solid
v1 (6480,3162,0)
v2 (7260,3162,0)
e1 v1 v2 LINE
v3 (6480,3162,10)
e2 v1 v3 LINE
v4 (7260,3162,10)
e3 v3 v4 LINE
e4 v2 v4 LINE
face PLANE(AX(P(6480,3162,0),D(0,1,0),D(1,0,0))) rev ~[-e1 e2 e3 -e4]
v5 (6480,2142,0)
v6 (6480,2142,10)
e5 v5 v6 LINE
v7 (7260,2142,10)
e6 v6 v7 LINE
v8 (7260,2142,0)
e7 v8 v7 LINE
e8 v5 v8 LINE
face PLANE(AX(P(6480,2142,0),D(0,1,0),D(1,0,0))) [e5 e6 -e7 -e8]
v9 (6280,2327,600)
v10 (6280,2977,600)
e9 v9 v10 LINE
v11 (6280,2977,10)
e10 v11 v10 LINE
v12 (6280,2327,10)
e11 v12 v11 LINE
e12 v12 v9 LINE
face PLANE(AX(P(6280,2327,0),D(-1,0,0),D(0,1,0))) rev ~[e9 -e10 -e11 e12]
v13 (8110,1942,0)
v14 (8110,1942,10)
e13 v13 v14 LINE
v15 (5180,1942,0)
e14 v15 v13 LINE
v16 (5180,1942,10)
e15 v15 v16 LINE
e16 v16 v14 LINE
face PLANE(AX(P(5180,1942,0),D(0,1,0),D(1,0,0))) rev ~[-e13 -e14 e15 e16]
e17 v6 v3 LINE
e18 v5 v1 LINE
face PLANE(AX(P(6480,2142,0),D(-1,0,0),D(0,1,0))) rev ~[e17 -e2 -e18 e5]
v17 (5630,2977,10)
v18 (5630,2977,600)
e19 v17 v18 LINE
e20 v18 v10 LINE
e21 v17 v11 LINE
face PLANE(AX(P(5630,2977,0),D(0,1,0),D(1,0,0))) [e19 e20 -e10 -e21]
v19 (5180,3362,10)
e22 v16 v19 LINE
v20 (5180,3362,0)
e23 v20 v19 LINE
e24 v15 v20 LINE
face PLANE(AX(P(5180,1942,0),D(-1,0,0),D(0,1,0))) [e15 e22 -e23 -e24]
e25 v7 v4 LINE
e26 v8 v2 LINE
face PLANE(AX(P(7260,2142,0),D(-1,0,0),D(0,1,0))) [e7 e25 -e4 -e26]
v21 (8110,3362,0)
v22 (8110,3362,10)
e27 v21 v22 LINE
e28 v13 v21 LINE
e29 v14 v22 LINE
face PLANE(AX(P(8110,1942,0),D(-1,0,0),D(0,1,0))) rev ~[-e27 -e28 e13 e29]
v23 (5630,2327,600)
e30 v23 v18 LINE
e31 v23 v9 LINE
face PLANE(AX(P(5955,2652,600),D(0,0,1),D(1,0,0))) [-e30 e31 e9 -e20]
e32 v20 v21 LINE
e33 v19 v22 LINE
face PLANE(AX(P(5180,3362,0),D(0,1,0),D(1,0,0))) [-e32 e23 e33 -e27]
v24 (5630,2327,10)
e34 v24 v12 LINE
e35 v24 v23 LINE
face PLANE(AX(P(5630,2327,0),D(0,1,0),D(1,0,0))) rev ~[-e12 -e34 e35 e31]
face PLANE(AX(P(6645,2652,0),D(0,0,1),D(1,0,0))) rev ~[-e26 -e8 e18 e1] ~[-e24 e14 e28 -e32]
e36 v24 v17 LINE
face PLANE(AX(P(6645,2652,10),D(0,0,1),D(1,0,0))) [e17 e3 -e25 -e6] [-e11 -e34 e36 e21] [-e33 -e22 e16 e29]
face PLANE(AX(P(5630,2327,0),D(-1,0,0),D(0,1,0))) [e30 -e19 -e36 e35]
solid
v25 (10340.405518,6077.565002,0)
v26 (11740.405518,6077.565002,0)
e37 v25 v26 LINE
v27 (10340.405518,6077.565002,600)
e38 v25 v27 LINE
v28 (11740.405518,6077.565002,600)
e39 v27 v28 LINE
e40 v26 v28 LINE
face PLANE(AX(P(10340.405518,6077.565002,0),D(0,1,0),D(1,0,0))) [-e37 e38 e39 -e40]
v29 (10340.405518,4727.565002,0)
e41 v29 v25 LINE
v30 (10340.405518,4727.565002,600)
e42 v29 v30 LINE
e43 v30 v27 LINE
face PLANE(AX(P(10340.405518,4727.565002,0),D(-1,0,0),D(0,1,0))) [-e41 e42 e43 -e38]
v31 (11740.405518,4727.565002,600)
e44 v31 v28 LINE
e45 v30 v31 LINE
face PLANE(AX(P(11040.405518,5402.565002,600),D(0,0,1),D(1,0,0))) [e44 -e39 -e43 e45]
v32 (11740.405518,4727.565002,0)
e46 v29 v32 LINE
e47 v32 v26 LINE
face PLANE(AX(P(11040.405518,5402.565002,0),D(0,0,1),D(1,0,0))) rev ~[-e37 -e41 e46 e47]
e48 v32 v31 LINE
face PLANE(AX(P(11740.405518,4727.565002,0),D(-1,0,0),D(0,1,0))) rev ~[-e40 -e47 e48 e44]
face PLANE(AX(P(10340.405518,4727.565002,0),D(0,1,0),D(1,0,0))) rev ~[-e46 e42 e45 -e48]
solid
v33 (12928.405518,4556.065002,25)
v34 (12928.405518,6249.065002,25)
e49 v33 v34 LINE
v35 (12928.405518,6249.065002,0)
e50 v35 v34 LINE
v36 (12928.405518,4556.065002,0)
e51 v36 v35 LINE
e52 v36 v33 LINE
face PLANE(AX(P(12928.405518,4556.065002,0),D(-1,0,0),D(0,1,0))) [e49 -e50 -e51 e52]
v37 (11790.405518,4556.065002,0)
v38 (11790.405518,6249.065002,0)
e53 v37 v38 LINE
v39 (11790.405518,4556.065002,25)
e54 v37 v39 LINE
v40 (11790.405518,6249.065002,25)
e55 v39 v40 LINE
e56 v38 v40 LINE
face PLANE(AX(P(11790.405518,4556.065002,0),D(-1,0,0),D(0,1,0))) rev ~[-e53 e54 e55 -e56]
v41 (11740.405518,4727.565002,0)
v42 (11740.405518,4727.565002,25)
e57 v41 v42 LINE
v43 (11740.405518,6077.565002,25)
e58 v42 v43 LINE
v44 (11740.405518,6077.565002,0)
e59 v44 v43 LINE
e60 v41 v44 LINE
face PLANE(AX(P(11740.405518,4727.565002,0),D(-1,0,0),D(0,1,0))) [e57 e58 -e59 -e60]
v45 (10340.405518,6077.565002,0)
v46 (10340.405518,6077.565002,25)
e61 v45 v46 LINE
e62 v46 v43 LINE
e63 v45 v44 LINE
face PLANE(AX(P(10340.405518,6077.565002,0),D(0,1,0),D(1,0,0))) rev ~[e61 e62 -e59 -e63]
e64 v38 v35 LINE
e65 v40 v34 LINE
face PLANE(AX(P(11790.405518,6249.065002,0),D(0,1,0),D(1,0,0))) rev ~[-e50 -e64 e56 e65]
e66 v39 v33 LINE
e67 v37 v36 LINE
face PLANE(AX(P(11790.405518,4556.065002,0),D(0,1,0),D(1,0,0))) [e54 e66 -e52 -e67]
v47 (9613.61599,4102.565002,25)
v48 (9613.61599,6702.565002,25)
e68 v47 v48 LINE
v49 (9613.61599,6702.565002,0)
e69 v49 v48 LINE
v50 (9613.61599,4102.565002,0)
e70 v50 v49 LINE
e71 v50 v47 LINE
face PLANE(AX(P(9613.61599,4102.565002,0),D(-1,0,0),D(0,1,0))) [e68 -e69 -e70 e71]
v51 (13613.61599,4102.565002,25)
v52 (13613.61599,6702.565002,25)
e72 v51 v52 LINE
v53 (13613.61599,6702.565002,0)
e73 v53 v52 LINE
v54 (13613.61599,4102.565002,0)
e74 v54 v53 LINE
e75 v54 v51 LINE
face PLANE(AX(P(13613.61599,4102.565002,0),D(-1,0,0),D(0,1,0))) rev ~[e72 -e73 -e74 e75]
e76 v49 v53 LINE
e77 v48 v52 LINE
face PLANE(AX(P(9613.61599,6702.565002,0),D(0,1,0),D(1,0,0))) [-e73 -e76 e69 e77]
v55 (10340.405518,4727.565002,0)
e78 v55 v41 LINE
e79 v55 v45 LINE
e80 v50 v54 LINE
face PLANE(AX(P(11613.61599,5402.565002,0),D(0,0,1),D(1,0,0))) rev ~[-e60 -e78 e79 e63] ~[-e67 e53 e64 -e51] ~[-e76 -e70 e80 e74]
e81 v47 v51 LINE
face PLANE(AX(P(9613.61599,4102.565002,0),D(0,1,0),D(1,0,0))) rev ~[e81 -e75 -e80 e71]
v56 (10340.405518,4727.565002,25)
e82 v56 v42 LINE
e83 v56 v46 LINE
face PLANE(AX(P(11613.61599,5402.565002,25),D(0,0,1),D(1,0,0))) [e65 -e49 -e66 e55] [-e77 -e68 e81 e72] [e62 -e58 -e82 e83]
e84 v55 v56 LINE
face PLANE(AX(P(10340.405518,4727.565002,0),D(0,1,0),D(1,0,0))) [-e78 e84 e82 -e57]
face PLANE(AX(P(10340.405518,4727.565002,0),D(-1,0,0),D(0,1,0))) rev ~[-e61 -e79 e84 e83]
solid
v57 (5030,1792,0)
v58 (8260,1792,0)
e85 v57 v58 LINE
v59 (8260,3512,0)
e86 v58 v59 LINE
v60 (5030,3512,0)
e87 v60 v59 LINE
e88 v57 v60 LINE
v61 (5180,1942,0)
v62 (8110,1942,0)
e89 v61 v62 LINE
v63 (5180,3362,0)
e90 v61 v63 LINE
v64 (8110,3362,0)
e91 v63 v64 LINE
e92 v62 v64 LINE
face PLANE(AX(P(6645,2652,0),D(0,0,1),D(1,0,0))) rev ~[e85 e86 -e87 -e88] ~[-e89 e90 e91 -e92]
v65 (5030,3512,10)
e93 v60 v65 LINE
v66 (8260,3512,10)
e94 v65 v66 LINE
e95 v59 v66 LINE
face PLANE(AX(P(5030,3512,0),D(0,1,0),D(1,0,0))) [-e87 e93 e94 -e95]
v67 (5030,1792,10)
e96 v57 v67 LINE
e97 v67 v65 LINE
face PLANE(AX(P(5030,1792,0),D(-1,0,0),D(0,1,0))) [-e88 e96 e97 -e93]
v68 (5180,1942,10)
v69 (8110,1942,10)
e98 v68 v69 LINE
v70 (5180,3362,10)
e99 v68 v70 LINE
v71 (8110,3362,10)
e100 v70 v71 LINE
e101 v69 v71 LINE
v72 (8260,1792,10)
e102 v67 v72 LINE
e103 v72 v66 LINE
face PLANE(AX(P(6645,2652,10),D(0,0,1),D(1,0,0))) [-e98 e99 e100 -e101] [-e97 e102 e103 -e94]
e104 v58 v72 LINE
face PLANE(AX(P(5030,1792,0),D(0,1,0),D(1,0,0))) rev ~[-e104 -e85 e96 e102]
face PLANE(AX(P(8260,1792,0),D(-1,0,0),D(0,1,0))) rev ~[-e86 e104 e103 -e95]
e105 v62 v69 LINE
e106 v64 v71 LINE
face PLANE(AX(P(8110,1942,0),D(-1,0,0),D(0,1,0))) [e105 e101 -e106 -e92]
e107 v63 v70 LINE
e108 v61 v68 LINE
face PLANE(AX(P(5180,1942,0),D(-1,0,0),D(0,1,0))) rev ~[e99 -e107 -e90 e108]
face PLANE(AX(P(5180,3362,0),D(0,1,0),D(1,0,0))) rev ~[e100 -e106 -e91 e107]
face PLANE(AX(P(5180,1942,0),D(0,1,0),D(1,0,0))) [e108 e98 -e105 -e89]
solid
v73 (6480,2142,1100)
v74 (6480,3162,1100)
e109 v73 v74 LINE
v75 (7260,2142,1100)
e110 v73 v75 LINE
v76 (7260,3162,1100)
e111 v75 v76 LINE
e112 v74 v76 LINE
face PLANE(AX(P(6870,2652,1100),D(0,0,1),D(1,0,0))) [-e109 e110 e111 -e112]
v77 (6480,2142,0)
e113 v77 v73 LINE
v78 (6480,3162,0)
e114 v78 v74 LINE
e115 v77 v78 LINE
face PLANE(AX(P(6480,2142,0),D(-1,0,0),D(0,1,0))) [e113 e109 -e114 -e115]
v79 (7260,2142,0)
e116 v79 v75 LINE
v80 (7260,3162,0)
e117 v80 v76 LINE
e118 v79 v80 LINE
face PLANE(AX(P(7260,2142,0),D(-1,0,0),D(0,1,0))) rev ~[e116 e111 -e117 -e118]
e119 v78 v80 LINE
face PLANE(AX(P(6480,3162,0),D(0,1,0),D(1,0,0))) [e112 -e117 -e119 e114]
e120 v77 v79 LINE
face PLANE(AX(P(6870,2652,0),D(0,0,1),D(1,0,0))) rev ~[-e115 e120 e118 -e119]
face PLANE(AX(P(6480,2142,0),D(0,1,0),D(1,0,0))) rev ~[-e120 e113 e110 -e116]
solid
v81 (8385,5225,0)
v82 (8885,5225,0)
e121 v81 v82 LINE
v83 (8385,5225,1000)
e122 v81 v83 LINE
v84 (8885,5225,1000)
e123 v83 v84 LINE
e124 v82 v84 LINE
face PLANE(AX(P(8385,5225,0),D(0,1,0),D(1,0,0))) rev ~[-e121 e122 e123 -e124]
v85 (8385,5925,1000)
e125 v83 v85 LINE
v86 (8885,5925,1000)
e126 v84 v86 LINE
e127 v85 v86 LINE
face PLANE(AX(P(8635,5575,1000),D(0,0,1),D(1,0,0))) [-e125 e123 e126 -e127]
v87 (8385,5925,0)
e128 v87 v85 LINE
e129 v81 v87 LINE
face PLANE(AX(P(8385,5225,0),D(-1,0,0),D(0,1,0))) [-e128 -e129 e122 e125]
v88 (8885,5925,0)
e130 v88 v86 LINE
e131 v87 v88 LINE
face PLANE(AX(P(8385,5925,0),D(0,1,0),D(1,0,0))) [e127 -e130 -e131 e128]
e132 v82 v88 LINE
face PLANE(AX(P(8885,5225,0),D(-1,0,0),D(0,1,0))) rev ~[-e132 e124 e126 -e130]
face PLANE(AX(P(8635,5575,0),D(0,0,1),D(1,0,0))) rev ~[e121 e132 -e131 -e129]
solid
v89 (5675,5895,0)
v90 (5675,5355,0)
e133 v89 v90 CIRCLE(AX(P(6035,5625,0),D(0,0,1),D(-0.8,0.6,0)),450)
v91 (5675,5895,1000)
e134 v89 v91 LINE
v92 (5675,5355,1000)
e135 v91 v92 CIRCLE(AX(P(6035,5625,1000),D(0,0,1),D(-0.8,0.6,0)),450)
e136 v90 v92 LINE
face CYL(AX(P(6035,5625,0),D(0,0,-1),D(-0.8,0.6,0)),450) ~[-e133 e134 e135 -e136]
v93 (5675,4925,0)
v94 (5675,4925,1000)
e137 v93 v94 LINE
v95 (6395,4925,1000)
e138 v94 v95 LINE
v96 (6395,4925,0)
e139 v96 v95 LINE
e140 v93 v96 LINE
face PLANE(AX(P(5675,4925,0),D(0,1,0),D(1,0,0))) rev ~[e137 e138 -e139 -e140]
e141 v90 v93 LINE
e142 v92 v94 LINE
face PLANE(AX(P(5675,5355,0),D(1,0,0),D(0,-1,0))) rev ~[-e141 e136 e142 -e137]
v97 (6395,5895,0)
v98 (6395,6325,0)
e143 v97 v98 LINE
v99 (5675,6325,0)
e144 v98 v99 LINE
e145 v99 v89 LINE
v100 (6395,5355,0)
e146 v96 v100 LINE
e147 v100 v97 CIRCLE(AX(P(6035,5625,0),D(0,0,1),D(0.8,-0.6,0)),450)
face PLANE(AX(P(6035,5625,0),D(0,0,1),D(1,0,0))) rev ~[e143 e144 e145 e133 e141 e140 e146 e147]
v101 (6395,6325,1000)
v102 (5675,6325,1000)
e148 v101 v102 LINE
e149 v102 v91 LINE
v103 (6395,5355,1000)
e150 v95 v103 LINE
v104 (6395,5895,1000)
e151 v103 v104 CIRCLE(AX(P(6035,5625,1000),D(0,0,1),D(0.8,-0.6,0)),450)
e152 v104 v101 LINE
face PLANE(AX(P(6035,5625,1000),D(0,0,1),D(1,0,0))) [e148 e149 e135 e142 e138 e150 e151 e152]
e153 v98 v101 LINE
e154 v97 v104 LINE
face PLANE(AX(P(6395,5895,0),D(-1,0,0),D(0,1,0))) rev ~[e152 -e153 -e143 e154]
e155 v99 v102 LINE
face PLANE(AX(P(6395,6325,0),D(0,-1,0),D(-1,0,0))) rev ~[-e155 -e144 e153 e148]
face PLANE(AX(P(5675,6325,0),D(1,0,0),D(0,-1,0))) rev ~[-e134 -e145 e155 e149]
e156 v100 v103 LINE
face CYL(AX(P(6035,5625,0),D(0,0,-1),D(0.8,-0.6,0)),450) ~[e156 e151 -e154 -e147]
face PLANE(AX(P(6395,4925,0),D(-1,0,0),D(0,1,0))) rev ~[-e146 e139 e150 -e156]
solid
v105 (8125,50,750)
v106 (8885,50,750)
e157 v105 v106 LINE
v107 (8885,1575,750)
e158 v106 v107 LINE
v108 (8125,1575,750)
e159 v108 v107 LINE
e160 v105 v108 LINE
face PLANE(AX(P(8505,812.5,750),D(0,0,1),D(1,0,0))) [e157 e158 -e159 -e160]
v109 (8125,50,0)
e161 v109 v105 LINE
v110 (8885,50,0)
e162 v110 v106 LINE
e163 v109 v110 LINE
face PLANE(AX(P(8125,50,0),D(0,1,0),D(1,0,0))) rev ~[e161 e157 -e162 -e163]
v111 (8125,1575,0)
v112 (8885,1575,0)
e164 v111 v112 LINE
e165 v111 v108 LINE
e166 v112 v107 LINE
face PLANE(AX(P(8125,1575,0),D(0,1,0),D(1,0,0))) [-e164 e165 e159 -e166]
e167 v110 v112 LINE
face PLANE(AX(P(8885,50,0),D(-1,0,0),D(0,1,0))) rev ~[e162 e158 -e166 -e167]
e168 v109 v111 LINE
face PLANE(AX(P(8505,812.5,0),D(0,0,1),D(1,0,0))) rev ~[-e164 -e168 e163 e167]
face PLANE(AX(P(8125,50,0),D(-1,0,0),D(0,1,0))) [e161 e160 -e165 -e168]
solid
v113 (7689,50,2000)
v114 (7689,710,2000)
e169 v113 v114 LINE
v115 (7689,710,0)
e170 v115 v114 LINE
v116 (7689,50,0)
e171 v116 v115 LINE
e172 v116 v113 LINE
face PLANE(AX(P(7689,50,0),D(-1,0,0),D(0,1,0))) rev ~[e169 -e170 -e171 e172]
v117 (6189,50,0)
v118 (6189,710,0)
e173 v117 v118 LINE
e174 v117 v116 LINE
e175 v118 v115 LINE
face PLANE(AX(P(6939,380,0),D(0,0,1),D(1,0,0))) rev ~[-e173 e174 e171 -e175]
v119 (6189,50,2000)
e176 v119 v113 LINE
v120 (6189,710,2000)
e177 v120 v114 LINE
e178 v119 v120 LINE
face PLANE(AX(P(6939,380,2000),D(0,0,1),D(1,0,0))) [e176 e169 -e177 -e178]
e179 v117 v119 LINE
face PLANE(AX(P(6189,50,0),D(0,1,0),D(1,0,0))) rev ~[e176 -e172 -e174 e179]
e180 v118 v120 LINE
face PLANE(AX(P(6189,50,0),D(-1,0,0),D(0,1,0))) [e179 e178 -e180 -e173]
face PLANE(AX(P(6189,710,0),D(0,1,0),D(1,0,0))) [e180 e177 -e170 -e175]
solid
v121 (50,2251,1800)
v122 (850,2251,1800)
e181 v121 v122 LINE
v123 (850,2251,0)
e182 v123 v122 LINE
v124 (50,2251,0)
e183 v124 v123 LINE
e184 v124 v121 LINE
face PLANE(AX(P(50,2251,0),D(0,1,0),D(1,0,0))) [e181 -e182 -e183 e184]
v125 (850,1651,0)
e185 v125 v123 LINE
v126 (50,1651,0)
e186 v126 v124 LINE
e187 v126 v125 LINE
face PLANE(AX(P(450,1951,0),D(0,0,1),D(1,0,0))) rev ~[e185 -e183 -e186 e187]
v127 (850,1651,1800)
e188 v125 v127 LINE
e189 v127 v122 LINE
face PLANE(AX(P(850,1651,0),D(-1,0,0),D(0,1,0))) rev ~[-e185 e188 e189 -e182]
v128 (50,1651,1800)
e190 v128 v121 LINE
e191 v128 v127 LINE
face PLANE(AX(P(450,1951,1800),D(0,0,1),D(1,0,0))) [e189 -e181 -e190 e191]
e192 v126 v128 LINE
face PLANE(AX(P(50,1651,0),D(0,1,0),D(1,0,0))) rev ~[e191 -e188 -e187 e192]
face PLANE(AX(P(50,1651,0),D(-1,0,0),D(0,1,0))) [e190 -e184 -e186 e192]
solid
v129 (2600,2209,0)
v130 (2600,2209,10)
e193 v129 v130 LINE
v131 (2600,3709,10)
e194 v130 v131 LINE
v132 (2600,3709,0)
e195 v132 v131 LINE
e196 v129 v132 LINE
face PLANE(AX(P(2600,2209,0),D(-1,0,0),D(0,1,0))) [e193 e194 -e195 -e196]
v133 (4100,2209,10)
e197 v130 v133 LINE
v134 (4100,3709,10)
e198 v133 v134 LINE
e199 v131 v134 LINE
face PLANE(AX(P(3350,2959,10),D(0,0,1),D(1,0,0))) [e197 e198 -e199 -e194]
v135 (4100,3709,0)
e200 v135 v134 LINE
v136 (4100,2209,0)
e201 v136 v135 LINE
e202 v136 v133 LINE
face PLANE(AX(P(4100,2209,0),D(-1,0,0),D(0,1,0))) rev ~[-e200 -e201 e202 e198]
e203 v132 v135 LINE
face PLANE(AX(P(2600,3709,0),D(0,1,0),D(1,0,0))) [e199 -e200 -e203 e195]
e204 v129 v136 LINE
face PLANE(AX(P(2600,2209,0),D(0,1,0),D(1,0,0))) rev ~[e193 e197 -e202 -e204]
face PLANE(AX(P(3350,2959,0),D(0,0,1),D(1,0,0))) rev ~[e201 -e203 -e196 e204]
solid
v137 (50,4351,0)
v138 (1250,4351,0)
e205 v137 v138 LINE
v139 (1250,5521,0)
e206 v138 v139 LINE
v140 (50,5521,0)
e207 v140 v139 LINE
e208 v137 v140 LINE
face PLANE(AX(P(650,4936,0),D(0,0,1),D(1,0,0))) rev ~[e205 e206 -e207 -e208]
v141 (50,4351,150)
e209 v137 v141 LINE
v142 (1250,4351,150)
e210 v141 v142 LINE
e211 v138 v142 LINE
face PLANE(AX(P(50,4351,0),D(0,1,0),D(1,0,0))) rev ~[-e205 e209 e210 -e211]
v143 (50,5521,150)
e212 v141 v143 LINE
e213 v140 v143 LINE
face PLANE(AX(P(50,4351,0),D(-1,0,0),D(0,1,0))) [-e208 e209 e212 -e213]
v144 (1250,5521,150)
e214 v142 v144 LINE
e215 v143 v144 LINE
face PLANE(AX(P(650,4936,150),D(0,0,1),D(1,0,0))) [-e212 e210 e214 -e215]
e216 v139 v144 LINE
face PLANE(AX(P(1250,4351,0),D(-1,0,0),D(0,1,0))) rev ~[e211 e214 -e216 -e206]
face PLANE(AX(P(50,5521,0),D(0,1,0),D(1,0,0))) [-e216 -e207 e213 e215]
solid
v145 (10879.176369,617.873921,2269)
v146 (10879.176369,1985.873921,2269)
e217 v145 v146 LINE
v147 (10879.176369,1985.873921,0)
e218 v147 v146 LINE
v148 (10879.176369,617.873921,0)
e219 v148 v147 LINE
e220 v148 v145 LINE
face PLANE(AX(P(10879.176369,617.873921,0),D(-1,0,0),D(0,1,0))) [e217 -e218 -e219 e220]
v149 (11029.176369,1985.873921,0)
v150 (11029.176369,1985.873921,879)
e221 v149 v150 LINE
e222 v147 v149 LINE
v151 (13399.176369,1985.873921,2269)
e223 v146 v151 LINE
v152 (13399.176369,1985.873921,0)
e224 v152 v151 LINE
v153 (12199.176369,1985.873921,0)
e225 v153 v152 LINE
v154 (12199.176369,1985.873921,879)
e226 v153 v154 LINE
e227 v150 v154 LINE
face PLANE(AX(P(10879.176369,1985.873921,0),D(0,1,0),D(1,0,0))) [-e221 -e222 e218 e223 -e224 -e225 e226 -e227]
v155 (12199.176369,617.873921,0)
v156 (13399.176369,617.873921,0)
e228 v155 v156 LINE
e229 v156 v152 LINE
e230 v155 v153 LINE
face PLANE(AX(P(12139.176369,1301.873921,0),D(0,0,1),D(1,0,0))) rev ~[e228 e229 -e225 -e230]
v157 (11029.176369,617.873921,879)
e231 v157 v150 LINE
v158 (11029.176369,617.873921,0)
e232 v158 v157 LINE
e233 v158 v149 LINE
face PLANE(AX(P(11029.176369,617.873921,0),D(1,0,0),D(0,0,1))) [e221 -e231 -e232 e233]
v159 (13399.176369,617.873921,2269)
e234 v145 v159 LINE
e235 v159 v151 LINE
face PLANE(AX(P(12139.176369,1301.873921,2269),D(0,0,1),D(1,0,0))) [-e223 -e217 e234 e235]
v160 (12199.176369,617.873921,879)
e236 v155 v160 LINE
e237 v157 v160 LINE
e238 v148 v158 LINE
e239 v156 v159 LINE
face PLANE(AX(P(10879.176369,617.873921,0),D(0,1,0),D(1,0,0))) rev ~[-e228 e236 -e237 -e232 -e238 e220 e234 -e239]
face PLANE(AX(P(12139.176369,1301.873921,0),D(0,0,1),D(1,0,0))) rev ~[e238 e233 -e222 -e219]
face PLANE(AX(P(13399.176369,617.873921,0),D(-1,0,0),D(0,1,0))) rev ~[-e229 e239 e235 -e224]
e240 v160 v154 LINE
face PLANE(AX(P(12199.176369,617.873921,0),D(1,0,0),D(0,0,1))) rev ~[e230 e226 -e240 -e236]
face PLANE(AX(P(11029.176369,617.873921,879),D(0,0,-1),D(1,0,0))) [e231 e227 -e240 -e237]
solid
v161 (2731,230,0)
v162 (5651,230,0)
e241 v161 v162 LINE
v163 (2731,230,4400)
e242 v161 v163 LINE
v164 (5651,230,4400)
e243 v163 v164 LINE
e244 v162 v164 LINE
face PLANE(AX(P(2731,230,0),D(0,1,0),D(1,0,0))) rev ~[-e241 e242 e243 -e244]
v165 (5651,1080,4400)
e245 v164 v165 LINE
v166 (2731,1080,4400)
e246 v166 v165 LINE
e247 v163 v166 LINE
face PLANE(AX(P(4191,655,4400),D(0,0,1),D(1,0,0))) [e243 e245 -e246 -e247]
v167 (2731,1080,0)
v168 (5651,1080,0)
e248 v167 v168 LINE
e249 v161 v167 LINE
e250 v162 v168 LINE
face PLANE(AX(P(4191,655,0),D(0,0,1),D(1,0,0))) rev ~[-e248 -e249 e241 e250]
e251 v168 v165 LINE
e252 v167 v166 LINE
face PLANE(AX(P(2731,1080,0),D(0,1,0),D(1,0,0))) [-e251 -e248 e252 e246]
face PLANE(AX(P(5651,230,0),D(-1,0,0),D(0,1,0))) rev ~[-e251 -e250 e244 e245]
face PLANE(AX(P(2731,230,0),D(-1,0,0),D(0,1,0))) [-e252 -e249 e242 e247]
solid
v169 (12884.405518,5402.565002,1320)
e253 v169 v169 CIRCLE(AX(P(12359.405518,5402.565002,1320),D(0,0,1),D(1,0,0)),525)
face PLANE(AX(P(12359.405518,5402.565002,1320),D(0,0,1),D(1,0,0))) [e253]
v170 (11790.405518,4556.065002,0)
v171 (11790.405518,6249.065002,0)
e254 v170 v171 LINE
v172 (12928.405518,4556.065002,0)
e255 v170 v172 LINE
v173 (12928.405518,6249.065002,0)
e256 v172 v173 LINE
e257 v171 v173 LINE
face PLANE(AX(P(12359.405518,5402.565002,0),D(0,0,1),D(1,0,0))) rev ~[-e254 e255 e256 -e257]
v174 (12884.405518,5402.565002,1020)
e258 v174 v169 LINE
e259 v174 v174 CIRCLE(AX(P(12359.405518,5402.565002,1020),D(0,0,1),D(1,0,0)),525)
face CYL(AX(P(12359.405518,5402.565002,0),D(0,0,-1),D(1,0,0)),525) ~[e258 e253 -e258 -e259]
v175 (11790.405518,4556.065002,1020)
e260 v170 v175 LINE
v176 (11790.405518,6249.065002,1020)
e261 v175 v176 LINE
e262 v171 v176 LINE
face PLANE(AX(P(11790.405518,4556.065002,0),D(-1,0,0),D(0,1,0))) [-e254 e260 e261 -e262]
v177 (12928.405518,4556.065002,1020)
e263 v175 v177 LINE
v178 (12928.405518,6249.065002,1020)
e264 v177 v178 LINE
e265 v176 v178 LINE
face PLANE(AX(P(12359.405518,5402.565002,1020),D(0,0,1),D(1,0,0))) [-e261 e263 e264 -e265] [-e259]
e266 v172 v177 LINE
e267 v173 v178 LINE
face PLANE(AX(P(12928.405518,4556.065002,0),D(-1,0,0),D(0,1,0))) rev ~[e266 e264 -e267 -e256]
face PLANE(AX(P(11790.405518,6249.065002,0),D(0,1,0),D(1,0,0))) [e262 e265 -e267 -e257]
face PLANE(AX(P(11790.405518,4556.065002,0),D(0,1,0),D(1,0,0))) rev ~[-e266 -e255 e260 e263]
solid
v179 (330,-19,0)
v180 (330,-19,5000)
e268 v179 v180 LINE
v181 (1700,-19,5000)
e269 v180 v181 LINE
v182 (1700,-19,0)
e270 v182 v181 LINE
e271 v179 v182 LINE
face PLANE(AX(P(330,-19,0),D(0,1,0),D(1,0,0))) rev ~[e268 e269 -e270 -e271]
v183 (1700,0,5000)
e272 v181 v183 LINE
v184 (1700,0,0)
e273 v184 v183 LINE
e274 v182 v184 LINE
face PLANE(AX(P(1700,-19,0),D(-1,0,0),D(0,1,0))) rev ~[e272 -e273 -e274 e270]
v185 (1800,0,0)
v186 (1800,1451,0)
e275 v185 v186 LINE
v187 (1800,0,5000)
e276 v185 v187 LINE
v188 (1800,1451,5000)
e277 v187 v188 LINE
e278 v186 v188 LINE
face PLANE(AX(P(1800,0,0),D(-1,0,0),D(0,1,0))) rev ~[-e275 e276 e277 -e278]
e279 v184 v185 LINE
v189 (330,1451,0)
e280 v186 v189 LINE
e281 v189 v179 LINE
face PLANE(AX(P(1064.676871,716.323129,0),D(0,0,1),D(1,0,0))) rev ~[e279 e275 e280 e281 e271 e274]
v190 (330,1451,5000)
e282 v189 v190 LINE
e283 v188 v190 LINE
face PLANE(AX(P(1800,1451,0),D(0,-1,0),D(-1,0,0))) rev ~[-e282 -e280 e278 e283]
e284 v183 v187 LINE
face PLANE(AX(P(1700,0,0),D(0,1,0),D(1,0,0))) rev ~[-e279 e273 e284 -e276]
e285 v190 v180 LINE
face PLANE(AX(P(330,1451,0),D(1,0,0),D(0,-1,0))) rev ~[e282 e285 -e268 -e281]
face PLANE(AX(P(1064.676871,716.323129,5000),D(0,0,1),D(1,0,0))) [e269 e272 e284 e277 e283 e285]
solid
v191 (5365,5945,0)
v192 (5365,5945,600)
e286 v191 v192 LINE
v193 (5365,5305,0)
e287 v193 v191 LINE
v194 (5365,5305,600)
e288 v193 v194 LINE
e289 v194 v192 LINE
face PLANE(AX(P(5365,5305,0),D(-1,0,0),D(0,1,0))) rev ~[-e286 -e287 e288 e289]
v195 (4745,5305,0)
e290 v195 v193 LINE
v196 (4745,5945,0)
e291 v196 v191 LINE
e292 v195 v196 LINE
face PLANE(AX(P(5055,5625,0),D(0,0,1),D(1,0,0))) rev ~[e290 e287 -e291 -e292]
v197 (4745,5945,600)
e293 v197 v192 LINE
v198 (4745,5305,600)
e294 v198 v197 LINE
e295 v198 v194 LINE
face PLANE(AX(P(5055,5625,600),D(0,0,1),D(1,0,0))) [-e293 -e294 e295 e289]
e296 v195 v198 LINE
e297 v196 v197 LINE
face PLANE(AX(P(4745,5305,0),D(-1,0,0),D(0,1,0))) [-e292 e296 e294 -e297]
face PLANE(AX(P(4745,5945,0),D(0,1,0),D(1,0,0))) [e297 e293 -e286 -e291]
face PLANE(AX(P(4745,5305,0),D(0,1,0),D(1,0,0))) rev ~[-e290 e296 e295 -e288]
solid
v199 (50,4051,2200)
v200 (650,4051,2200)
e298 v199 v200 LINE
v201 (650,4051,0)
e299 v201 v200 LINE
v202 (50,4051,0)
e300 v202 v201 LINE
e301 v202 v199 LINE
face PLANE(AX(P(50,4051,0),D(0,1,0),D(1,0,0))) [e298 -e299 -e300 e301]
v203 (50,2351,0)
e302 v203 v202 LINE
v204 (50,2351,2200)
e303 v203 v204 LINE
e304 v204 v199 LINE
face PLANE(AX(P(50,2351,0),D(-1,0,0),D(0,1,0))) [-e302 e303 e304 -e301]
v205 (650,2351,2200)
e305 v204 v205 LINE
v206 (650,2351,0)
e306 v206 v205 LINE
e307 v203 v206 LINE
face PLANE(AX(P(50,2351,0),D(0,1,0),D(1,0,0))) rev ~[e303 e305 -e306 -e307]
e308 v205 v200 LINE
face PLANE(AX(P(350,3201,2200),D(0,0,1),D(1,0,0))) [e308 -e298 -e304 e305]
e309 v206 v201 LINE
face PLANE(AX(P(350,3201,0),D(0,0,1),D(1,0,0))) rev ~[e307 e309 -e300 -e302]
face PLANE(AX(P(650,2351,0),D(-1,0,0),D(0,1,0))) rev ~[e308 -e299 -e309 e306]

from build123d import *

# Parameters (mm, degrees)
F2_DEPTH  = 5000
F1_W      = 2920
F1_H      = 850
F3_DEPTH  = 4400
F1_W_2    = 1500
F1_H_2    = 660
F4_DEPTH  = 2000
F1_W_3    = 780
F1_H_3    = 1020
F5_DEPTH  = 1100
F1_W_4    = 760
F1_H_4    = 1525
F6_DEPTH  = 750
F7_DEPTH  = 1000
F1_W_5    = 500
F1_H_5    = 700
F8_DEPTH  = 1000
F1_W_6    = 620
F1_H_6    = 640
F9_DEPTH  = 600
F1_W_7    = 600
F1_H_7    = 1700
F10_DEPTH = 2200
F1_W_8    = 800
F1_H_8    = 600
F11_DEPTH = 1800
F1_H_9    = 1500
F12_DEPTH = 10
F1_W_9    = 1200
F1_H_10   = 1170
F13_DEPTH = 150
F1_W_10   = 3230
F1_H_11   = 1720
F1_W_11   = 2930
F1_H_12   = 1420
F14_DEPTH = 10
F1_W_12   = 650
F1_H_13   = 650
F15_DEPTH = 10
F16_W     = 1138
F16_H     = 1693
F16_R     = 525
F17_DEPTH = 1020
F18_DEPTH = 1320
F16_W_2   = 1400
F16_H_2   = 1350
F19_DEPTH = 600
F16_W_3   = 4000
F16_H_3   = 2600
F20_DEPTH = 25
F21_W     = 2520
F21_H     = 1368
F22_DEPTH = 2269
F23_W     = 1170
F23_H     = 879
F24_DEPTH = 1368
F25_DEPTH = 600


with BuildPart() as f2:
    # F1 (on face) → F2 (new body)
    with BuildSketch(Plane.XY):
        Polygon((330, 1451), (330, -19), (1700, -19), (1700, 0), (1800, 0), (1800, 1451), align=None)
    extrude(amount=F2_DEPTH)


with BuildPart() as f3:
    # F1 (on face) → F3 (new body)
    with BuildSketch(Plane.XY):
        with Locations((4191, 655)):
            Rectangle(F1_W, F1_H)
    extrude(amount=F3_DEPTH)


with BuildPart() as f4:
    # F1 (on face) → F4 (new body)
    with BuildSketch(Plane.XY):
        with Locations((6939, 380)):
            Rectangle(F1_W_2, F1_H_2)
    extrude(amount=F4_DEPTH)


with BuildPart() as f5:
    # F1 (on face) → F5 (new body)
    with BuildSketch(Plane.XY):
        with Locations((6870, 2652)):
            Rectangle(F1_W_3, F1_H_3)
    extrude(amount=F5_DEPTH)


with BuildPart() as f6:
    # F1 (on face) → F6 (new body)
    with BuildSketch(Plane.XY):
        with Locations((8505, 812.5)):
            Rectangle(F1_W_4, F1_H_4)
    extrude(amount=F6_DEPTH)


with BuildPart() as f7:
    # F1 (on face) → F7 (new body)
    with BuildSketch(Plane.XY):
        with BuildLine():
            ThreePointArc((6395, 5895), (6035, 6075), (5675, 5895))
            Line((5675, 5895), (5675, 5355))
            ThreePointArc((5675, 5355), (6035, 5175), (6395, 5355))
            Line((6395, 5355), (6395, 5895))
        make_face()
        with BuildLine():
            ThreePointArc((6395, 5355), (6035, 5175), (5675, 5355))
            Line((5675, 5355), (5675, 4925))
            Line((5675, 4925), (6395, 4925))
            Line((6395, 4925), (6395, 5355))
        make_face()
        with BuildLine():
            Line((6395, 6325), (5675, 6325))
            Line((5675, 6325), (5675, 5895))
            ThreePointArc((5675, 5895), (6035, 6075), (6395, 5895))
            Line((6395, 5895), (6395, 6325))
        make_face()
        with BuildLine():
            ThreePointArc((6485, 5625), (6461.9074841227, 5767.3024947076), (6395, 5895))
            Line((6395, 5895), (6395, 5355))
            ThreePointArc((6395, 5355), (6461.9074841227, 5482.6975052924), (6485, 5625))
        make_face()
        with BuildLine():
            Line((5675, 5355), (5675, 5895))
            ThreePointArc((5675, 5895), (5585, 5625), (5675, 5355))
        make_face()
    extrude(amount=F7_DEPTH)


with BuildPart() as f8:
    # F1 (on face) → F8 (new body)
    with BuildSketch(Plane.XY):
        with Locations((8635, 5575)):
            Rectangle(F1_W_5, F1_H_5)
    extrude(amount=F8_DEPTH)


with BuildPart() as f9:
    # F1 (on face) → F9 (new body)
    with BuildSketch(Plane.XY):
        with Locations((5055, 5625)):
            Rectangle(F1_W_6, F1_H_6)
    extrude(amount=F9_DEPTH)


with BuildPart() as f10:
    # F1 (on face) → F10 (new body)
    with BuildSketch(Plane.XY):
        with Locations((350, 3201)):
            Rectangle(F1_W_7, F1_H_7)
    extrude(amount=F10_DEPTH)


with BuildPart() as f11:
    # F1 (on face) → F11 (new body)
    with BuildSketch(Plane.XY):
        with Locations((450, 1951)):
            Rectangle(F1_W_8, F1_H_8)
    extrude(amount=F11_DEPTH)


with BuildPart() as f12:
    # F1 (on face) → F12 (new body)
    with BuildSketch(Plane.XY):
        with Locations((3350, 2959)):
            Rectangle(F1_W_2, F1_H_9)
    extrude(amount=F12_DEPTH)


with BuildPart() as f13:
    # F1 (on face) → F13 (new body)
    with BuildSketch(Plane.XY):
        with Locations((650, 4936)):
            Rectangle(F1_W_9, F1_H_10)
    extrude(amount=F13_DEPTH)


with BuildPart() as f14:
    # F1 (on face) → F14 (new body)
    with BuildSketch(Plane.XY):
        with Locations((6645, 2652)):
            Rectangle(F1_W_10, F1_H_11)
        with Locations((6645, 2652)):
            Rectangle(F1_W_11, F1_H_12, mode=Mode.SUBTRACT)
    extrude(amount=F14_DEPTH)


with BuildPart() as f15:
    # F1 (on face) → F15 (new body)
    with BuildSketch(Plane.XY):
        with Locations((6645, 2652)):
            Rectangle(F1_W_11, F1_H_12)
        with Locations((5955, 2652)):
            Rectangle(F1_W_12, F1_H_13, mode=Mode.SUBTRACT)
        with Locations((6870, 2652)):
            Rectangle(F1_W_3, F1_H_3, mode=Mode.SUBTRACT)
    extrude(amount=F15_DEPTH)

    # F1 (on face) → F25 (join)
    with BuildSketch(Plane.XY):
        with Locations((5955, 2652)):
            Rectangle(F1_W_12, F1_H_13)
    extrude(amount=F25_DEPTH)


with BuildPart() as f17:
    # F16 (on face) → F17 (new body)
    with BuildSketch(Plane.XY):
        with Locations((12359.4055175781, 5402.5650024414)):
            Rectangle(F16_W, F16_H)
        with Locations((12359.4055175781, 5402.5650024414)):
            Circle(F16_R, mode=Mode.SUBTRACT)
    extrude(amount=F17_DEPTH)

    # F16 (on face) → F18 (join)
    with BuildSketch(Plane.XY):
        with Locations((12359.4055175781, 5402.5650024414)):
            Circle(F16_R)
    extrude(amount=F18_DEPTH)


with BuildPart() as f19:
    # F16 (on face) → F19 (new body)
    with BuildSketch(Plane.XY):
        with Locations((11040.4055175781, 5402.5650024414)):
            Rectangle(F16_W_2, F16_H_2)
    extrude(amount=F19_DEPTH)


with BuildPart() as f20:
    # F16 (on face) → F20 (new body)
    with BuildSketch(Plane.XY):
        with Locations((11613.6159896851, 5402.5650024414)):
            Rectangle(F16_W_3, F16_H_3)
        with Locations((11040.4055175781, 5402.5650024414)):
            Rectangle(F16_W_2, F16_H_2, mode=Mode.SUBTRACT)
        with Locations((12359.4055175781, 5402.5650024414)):
            Rectangle(F16_W, F16_H, mode=Mode.SUBTRACT)
    extrude(amount=F20_DEPTH)


with BuildPart() as f22:
    # F21 (on face) → F22 (new body)
    with BuildSketch(Plane.XY):
        with Locations((12139.1763687134, 1301.8739210856)):
            Rectangle(F21_W, F21_H)
    extrude(amount=F22_DEPTH)

    # F23 (on face) → F24 (cut, through all)
    with BuildSketch(Plane.XZ.offset(-617.8739210856)):
        with Locations((11614.1763687134, 439.5)):
            Rectangle(F23_W, F23_H)
    extrude(amount=-F24_DEPTH, mode=Mode.SUBTRACT)


solid = Compound([f2.part, f3.part, f4.part, f5.part, f6.part, f7.part, f8.part, f9.part, f10.part, f11.part, f12.part, f13.part, f14.part, f15.part, f17.part, f19.part, f20.part, f22.part])
